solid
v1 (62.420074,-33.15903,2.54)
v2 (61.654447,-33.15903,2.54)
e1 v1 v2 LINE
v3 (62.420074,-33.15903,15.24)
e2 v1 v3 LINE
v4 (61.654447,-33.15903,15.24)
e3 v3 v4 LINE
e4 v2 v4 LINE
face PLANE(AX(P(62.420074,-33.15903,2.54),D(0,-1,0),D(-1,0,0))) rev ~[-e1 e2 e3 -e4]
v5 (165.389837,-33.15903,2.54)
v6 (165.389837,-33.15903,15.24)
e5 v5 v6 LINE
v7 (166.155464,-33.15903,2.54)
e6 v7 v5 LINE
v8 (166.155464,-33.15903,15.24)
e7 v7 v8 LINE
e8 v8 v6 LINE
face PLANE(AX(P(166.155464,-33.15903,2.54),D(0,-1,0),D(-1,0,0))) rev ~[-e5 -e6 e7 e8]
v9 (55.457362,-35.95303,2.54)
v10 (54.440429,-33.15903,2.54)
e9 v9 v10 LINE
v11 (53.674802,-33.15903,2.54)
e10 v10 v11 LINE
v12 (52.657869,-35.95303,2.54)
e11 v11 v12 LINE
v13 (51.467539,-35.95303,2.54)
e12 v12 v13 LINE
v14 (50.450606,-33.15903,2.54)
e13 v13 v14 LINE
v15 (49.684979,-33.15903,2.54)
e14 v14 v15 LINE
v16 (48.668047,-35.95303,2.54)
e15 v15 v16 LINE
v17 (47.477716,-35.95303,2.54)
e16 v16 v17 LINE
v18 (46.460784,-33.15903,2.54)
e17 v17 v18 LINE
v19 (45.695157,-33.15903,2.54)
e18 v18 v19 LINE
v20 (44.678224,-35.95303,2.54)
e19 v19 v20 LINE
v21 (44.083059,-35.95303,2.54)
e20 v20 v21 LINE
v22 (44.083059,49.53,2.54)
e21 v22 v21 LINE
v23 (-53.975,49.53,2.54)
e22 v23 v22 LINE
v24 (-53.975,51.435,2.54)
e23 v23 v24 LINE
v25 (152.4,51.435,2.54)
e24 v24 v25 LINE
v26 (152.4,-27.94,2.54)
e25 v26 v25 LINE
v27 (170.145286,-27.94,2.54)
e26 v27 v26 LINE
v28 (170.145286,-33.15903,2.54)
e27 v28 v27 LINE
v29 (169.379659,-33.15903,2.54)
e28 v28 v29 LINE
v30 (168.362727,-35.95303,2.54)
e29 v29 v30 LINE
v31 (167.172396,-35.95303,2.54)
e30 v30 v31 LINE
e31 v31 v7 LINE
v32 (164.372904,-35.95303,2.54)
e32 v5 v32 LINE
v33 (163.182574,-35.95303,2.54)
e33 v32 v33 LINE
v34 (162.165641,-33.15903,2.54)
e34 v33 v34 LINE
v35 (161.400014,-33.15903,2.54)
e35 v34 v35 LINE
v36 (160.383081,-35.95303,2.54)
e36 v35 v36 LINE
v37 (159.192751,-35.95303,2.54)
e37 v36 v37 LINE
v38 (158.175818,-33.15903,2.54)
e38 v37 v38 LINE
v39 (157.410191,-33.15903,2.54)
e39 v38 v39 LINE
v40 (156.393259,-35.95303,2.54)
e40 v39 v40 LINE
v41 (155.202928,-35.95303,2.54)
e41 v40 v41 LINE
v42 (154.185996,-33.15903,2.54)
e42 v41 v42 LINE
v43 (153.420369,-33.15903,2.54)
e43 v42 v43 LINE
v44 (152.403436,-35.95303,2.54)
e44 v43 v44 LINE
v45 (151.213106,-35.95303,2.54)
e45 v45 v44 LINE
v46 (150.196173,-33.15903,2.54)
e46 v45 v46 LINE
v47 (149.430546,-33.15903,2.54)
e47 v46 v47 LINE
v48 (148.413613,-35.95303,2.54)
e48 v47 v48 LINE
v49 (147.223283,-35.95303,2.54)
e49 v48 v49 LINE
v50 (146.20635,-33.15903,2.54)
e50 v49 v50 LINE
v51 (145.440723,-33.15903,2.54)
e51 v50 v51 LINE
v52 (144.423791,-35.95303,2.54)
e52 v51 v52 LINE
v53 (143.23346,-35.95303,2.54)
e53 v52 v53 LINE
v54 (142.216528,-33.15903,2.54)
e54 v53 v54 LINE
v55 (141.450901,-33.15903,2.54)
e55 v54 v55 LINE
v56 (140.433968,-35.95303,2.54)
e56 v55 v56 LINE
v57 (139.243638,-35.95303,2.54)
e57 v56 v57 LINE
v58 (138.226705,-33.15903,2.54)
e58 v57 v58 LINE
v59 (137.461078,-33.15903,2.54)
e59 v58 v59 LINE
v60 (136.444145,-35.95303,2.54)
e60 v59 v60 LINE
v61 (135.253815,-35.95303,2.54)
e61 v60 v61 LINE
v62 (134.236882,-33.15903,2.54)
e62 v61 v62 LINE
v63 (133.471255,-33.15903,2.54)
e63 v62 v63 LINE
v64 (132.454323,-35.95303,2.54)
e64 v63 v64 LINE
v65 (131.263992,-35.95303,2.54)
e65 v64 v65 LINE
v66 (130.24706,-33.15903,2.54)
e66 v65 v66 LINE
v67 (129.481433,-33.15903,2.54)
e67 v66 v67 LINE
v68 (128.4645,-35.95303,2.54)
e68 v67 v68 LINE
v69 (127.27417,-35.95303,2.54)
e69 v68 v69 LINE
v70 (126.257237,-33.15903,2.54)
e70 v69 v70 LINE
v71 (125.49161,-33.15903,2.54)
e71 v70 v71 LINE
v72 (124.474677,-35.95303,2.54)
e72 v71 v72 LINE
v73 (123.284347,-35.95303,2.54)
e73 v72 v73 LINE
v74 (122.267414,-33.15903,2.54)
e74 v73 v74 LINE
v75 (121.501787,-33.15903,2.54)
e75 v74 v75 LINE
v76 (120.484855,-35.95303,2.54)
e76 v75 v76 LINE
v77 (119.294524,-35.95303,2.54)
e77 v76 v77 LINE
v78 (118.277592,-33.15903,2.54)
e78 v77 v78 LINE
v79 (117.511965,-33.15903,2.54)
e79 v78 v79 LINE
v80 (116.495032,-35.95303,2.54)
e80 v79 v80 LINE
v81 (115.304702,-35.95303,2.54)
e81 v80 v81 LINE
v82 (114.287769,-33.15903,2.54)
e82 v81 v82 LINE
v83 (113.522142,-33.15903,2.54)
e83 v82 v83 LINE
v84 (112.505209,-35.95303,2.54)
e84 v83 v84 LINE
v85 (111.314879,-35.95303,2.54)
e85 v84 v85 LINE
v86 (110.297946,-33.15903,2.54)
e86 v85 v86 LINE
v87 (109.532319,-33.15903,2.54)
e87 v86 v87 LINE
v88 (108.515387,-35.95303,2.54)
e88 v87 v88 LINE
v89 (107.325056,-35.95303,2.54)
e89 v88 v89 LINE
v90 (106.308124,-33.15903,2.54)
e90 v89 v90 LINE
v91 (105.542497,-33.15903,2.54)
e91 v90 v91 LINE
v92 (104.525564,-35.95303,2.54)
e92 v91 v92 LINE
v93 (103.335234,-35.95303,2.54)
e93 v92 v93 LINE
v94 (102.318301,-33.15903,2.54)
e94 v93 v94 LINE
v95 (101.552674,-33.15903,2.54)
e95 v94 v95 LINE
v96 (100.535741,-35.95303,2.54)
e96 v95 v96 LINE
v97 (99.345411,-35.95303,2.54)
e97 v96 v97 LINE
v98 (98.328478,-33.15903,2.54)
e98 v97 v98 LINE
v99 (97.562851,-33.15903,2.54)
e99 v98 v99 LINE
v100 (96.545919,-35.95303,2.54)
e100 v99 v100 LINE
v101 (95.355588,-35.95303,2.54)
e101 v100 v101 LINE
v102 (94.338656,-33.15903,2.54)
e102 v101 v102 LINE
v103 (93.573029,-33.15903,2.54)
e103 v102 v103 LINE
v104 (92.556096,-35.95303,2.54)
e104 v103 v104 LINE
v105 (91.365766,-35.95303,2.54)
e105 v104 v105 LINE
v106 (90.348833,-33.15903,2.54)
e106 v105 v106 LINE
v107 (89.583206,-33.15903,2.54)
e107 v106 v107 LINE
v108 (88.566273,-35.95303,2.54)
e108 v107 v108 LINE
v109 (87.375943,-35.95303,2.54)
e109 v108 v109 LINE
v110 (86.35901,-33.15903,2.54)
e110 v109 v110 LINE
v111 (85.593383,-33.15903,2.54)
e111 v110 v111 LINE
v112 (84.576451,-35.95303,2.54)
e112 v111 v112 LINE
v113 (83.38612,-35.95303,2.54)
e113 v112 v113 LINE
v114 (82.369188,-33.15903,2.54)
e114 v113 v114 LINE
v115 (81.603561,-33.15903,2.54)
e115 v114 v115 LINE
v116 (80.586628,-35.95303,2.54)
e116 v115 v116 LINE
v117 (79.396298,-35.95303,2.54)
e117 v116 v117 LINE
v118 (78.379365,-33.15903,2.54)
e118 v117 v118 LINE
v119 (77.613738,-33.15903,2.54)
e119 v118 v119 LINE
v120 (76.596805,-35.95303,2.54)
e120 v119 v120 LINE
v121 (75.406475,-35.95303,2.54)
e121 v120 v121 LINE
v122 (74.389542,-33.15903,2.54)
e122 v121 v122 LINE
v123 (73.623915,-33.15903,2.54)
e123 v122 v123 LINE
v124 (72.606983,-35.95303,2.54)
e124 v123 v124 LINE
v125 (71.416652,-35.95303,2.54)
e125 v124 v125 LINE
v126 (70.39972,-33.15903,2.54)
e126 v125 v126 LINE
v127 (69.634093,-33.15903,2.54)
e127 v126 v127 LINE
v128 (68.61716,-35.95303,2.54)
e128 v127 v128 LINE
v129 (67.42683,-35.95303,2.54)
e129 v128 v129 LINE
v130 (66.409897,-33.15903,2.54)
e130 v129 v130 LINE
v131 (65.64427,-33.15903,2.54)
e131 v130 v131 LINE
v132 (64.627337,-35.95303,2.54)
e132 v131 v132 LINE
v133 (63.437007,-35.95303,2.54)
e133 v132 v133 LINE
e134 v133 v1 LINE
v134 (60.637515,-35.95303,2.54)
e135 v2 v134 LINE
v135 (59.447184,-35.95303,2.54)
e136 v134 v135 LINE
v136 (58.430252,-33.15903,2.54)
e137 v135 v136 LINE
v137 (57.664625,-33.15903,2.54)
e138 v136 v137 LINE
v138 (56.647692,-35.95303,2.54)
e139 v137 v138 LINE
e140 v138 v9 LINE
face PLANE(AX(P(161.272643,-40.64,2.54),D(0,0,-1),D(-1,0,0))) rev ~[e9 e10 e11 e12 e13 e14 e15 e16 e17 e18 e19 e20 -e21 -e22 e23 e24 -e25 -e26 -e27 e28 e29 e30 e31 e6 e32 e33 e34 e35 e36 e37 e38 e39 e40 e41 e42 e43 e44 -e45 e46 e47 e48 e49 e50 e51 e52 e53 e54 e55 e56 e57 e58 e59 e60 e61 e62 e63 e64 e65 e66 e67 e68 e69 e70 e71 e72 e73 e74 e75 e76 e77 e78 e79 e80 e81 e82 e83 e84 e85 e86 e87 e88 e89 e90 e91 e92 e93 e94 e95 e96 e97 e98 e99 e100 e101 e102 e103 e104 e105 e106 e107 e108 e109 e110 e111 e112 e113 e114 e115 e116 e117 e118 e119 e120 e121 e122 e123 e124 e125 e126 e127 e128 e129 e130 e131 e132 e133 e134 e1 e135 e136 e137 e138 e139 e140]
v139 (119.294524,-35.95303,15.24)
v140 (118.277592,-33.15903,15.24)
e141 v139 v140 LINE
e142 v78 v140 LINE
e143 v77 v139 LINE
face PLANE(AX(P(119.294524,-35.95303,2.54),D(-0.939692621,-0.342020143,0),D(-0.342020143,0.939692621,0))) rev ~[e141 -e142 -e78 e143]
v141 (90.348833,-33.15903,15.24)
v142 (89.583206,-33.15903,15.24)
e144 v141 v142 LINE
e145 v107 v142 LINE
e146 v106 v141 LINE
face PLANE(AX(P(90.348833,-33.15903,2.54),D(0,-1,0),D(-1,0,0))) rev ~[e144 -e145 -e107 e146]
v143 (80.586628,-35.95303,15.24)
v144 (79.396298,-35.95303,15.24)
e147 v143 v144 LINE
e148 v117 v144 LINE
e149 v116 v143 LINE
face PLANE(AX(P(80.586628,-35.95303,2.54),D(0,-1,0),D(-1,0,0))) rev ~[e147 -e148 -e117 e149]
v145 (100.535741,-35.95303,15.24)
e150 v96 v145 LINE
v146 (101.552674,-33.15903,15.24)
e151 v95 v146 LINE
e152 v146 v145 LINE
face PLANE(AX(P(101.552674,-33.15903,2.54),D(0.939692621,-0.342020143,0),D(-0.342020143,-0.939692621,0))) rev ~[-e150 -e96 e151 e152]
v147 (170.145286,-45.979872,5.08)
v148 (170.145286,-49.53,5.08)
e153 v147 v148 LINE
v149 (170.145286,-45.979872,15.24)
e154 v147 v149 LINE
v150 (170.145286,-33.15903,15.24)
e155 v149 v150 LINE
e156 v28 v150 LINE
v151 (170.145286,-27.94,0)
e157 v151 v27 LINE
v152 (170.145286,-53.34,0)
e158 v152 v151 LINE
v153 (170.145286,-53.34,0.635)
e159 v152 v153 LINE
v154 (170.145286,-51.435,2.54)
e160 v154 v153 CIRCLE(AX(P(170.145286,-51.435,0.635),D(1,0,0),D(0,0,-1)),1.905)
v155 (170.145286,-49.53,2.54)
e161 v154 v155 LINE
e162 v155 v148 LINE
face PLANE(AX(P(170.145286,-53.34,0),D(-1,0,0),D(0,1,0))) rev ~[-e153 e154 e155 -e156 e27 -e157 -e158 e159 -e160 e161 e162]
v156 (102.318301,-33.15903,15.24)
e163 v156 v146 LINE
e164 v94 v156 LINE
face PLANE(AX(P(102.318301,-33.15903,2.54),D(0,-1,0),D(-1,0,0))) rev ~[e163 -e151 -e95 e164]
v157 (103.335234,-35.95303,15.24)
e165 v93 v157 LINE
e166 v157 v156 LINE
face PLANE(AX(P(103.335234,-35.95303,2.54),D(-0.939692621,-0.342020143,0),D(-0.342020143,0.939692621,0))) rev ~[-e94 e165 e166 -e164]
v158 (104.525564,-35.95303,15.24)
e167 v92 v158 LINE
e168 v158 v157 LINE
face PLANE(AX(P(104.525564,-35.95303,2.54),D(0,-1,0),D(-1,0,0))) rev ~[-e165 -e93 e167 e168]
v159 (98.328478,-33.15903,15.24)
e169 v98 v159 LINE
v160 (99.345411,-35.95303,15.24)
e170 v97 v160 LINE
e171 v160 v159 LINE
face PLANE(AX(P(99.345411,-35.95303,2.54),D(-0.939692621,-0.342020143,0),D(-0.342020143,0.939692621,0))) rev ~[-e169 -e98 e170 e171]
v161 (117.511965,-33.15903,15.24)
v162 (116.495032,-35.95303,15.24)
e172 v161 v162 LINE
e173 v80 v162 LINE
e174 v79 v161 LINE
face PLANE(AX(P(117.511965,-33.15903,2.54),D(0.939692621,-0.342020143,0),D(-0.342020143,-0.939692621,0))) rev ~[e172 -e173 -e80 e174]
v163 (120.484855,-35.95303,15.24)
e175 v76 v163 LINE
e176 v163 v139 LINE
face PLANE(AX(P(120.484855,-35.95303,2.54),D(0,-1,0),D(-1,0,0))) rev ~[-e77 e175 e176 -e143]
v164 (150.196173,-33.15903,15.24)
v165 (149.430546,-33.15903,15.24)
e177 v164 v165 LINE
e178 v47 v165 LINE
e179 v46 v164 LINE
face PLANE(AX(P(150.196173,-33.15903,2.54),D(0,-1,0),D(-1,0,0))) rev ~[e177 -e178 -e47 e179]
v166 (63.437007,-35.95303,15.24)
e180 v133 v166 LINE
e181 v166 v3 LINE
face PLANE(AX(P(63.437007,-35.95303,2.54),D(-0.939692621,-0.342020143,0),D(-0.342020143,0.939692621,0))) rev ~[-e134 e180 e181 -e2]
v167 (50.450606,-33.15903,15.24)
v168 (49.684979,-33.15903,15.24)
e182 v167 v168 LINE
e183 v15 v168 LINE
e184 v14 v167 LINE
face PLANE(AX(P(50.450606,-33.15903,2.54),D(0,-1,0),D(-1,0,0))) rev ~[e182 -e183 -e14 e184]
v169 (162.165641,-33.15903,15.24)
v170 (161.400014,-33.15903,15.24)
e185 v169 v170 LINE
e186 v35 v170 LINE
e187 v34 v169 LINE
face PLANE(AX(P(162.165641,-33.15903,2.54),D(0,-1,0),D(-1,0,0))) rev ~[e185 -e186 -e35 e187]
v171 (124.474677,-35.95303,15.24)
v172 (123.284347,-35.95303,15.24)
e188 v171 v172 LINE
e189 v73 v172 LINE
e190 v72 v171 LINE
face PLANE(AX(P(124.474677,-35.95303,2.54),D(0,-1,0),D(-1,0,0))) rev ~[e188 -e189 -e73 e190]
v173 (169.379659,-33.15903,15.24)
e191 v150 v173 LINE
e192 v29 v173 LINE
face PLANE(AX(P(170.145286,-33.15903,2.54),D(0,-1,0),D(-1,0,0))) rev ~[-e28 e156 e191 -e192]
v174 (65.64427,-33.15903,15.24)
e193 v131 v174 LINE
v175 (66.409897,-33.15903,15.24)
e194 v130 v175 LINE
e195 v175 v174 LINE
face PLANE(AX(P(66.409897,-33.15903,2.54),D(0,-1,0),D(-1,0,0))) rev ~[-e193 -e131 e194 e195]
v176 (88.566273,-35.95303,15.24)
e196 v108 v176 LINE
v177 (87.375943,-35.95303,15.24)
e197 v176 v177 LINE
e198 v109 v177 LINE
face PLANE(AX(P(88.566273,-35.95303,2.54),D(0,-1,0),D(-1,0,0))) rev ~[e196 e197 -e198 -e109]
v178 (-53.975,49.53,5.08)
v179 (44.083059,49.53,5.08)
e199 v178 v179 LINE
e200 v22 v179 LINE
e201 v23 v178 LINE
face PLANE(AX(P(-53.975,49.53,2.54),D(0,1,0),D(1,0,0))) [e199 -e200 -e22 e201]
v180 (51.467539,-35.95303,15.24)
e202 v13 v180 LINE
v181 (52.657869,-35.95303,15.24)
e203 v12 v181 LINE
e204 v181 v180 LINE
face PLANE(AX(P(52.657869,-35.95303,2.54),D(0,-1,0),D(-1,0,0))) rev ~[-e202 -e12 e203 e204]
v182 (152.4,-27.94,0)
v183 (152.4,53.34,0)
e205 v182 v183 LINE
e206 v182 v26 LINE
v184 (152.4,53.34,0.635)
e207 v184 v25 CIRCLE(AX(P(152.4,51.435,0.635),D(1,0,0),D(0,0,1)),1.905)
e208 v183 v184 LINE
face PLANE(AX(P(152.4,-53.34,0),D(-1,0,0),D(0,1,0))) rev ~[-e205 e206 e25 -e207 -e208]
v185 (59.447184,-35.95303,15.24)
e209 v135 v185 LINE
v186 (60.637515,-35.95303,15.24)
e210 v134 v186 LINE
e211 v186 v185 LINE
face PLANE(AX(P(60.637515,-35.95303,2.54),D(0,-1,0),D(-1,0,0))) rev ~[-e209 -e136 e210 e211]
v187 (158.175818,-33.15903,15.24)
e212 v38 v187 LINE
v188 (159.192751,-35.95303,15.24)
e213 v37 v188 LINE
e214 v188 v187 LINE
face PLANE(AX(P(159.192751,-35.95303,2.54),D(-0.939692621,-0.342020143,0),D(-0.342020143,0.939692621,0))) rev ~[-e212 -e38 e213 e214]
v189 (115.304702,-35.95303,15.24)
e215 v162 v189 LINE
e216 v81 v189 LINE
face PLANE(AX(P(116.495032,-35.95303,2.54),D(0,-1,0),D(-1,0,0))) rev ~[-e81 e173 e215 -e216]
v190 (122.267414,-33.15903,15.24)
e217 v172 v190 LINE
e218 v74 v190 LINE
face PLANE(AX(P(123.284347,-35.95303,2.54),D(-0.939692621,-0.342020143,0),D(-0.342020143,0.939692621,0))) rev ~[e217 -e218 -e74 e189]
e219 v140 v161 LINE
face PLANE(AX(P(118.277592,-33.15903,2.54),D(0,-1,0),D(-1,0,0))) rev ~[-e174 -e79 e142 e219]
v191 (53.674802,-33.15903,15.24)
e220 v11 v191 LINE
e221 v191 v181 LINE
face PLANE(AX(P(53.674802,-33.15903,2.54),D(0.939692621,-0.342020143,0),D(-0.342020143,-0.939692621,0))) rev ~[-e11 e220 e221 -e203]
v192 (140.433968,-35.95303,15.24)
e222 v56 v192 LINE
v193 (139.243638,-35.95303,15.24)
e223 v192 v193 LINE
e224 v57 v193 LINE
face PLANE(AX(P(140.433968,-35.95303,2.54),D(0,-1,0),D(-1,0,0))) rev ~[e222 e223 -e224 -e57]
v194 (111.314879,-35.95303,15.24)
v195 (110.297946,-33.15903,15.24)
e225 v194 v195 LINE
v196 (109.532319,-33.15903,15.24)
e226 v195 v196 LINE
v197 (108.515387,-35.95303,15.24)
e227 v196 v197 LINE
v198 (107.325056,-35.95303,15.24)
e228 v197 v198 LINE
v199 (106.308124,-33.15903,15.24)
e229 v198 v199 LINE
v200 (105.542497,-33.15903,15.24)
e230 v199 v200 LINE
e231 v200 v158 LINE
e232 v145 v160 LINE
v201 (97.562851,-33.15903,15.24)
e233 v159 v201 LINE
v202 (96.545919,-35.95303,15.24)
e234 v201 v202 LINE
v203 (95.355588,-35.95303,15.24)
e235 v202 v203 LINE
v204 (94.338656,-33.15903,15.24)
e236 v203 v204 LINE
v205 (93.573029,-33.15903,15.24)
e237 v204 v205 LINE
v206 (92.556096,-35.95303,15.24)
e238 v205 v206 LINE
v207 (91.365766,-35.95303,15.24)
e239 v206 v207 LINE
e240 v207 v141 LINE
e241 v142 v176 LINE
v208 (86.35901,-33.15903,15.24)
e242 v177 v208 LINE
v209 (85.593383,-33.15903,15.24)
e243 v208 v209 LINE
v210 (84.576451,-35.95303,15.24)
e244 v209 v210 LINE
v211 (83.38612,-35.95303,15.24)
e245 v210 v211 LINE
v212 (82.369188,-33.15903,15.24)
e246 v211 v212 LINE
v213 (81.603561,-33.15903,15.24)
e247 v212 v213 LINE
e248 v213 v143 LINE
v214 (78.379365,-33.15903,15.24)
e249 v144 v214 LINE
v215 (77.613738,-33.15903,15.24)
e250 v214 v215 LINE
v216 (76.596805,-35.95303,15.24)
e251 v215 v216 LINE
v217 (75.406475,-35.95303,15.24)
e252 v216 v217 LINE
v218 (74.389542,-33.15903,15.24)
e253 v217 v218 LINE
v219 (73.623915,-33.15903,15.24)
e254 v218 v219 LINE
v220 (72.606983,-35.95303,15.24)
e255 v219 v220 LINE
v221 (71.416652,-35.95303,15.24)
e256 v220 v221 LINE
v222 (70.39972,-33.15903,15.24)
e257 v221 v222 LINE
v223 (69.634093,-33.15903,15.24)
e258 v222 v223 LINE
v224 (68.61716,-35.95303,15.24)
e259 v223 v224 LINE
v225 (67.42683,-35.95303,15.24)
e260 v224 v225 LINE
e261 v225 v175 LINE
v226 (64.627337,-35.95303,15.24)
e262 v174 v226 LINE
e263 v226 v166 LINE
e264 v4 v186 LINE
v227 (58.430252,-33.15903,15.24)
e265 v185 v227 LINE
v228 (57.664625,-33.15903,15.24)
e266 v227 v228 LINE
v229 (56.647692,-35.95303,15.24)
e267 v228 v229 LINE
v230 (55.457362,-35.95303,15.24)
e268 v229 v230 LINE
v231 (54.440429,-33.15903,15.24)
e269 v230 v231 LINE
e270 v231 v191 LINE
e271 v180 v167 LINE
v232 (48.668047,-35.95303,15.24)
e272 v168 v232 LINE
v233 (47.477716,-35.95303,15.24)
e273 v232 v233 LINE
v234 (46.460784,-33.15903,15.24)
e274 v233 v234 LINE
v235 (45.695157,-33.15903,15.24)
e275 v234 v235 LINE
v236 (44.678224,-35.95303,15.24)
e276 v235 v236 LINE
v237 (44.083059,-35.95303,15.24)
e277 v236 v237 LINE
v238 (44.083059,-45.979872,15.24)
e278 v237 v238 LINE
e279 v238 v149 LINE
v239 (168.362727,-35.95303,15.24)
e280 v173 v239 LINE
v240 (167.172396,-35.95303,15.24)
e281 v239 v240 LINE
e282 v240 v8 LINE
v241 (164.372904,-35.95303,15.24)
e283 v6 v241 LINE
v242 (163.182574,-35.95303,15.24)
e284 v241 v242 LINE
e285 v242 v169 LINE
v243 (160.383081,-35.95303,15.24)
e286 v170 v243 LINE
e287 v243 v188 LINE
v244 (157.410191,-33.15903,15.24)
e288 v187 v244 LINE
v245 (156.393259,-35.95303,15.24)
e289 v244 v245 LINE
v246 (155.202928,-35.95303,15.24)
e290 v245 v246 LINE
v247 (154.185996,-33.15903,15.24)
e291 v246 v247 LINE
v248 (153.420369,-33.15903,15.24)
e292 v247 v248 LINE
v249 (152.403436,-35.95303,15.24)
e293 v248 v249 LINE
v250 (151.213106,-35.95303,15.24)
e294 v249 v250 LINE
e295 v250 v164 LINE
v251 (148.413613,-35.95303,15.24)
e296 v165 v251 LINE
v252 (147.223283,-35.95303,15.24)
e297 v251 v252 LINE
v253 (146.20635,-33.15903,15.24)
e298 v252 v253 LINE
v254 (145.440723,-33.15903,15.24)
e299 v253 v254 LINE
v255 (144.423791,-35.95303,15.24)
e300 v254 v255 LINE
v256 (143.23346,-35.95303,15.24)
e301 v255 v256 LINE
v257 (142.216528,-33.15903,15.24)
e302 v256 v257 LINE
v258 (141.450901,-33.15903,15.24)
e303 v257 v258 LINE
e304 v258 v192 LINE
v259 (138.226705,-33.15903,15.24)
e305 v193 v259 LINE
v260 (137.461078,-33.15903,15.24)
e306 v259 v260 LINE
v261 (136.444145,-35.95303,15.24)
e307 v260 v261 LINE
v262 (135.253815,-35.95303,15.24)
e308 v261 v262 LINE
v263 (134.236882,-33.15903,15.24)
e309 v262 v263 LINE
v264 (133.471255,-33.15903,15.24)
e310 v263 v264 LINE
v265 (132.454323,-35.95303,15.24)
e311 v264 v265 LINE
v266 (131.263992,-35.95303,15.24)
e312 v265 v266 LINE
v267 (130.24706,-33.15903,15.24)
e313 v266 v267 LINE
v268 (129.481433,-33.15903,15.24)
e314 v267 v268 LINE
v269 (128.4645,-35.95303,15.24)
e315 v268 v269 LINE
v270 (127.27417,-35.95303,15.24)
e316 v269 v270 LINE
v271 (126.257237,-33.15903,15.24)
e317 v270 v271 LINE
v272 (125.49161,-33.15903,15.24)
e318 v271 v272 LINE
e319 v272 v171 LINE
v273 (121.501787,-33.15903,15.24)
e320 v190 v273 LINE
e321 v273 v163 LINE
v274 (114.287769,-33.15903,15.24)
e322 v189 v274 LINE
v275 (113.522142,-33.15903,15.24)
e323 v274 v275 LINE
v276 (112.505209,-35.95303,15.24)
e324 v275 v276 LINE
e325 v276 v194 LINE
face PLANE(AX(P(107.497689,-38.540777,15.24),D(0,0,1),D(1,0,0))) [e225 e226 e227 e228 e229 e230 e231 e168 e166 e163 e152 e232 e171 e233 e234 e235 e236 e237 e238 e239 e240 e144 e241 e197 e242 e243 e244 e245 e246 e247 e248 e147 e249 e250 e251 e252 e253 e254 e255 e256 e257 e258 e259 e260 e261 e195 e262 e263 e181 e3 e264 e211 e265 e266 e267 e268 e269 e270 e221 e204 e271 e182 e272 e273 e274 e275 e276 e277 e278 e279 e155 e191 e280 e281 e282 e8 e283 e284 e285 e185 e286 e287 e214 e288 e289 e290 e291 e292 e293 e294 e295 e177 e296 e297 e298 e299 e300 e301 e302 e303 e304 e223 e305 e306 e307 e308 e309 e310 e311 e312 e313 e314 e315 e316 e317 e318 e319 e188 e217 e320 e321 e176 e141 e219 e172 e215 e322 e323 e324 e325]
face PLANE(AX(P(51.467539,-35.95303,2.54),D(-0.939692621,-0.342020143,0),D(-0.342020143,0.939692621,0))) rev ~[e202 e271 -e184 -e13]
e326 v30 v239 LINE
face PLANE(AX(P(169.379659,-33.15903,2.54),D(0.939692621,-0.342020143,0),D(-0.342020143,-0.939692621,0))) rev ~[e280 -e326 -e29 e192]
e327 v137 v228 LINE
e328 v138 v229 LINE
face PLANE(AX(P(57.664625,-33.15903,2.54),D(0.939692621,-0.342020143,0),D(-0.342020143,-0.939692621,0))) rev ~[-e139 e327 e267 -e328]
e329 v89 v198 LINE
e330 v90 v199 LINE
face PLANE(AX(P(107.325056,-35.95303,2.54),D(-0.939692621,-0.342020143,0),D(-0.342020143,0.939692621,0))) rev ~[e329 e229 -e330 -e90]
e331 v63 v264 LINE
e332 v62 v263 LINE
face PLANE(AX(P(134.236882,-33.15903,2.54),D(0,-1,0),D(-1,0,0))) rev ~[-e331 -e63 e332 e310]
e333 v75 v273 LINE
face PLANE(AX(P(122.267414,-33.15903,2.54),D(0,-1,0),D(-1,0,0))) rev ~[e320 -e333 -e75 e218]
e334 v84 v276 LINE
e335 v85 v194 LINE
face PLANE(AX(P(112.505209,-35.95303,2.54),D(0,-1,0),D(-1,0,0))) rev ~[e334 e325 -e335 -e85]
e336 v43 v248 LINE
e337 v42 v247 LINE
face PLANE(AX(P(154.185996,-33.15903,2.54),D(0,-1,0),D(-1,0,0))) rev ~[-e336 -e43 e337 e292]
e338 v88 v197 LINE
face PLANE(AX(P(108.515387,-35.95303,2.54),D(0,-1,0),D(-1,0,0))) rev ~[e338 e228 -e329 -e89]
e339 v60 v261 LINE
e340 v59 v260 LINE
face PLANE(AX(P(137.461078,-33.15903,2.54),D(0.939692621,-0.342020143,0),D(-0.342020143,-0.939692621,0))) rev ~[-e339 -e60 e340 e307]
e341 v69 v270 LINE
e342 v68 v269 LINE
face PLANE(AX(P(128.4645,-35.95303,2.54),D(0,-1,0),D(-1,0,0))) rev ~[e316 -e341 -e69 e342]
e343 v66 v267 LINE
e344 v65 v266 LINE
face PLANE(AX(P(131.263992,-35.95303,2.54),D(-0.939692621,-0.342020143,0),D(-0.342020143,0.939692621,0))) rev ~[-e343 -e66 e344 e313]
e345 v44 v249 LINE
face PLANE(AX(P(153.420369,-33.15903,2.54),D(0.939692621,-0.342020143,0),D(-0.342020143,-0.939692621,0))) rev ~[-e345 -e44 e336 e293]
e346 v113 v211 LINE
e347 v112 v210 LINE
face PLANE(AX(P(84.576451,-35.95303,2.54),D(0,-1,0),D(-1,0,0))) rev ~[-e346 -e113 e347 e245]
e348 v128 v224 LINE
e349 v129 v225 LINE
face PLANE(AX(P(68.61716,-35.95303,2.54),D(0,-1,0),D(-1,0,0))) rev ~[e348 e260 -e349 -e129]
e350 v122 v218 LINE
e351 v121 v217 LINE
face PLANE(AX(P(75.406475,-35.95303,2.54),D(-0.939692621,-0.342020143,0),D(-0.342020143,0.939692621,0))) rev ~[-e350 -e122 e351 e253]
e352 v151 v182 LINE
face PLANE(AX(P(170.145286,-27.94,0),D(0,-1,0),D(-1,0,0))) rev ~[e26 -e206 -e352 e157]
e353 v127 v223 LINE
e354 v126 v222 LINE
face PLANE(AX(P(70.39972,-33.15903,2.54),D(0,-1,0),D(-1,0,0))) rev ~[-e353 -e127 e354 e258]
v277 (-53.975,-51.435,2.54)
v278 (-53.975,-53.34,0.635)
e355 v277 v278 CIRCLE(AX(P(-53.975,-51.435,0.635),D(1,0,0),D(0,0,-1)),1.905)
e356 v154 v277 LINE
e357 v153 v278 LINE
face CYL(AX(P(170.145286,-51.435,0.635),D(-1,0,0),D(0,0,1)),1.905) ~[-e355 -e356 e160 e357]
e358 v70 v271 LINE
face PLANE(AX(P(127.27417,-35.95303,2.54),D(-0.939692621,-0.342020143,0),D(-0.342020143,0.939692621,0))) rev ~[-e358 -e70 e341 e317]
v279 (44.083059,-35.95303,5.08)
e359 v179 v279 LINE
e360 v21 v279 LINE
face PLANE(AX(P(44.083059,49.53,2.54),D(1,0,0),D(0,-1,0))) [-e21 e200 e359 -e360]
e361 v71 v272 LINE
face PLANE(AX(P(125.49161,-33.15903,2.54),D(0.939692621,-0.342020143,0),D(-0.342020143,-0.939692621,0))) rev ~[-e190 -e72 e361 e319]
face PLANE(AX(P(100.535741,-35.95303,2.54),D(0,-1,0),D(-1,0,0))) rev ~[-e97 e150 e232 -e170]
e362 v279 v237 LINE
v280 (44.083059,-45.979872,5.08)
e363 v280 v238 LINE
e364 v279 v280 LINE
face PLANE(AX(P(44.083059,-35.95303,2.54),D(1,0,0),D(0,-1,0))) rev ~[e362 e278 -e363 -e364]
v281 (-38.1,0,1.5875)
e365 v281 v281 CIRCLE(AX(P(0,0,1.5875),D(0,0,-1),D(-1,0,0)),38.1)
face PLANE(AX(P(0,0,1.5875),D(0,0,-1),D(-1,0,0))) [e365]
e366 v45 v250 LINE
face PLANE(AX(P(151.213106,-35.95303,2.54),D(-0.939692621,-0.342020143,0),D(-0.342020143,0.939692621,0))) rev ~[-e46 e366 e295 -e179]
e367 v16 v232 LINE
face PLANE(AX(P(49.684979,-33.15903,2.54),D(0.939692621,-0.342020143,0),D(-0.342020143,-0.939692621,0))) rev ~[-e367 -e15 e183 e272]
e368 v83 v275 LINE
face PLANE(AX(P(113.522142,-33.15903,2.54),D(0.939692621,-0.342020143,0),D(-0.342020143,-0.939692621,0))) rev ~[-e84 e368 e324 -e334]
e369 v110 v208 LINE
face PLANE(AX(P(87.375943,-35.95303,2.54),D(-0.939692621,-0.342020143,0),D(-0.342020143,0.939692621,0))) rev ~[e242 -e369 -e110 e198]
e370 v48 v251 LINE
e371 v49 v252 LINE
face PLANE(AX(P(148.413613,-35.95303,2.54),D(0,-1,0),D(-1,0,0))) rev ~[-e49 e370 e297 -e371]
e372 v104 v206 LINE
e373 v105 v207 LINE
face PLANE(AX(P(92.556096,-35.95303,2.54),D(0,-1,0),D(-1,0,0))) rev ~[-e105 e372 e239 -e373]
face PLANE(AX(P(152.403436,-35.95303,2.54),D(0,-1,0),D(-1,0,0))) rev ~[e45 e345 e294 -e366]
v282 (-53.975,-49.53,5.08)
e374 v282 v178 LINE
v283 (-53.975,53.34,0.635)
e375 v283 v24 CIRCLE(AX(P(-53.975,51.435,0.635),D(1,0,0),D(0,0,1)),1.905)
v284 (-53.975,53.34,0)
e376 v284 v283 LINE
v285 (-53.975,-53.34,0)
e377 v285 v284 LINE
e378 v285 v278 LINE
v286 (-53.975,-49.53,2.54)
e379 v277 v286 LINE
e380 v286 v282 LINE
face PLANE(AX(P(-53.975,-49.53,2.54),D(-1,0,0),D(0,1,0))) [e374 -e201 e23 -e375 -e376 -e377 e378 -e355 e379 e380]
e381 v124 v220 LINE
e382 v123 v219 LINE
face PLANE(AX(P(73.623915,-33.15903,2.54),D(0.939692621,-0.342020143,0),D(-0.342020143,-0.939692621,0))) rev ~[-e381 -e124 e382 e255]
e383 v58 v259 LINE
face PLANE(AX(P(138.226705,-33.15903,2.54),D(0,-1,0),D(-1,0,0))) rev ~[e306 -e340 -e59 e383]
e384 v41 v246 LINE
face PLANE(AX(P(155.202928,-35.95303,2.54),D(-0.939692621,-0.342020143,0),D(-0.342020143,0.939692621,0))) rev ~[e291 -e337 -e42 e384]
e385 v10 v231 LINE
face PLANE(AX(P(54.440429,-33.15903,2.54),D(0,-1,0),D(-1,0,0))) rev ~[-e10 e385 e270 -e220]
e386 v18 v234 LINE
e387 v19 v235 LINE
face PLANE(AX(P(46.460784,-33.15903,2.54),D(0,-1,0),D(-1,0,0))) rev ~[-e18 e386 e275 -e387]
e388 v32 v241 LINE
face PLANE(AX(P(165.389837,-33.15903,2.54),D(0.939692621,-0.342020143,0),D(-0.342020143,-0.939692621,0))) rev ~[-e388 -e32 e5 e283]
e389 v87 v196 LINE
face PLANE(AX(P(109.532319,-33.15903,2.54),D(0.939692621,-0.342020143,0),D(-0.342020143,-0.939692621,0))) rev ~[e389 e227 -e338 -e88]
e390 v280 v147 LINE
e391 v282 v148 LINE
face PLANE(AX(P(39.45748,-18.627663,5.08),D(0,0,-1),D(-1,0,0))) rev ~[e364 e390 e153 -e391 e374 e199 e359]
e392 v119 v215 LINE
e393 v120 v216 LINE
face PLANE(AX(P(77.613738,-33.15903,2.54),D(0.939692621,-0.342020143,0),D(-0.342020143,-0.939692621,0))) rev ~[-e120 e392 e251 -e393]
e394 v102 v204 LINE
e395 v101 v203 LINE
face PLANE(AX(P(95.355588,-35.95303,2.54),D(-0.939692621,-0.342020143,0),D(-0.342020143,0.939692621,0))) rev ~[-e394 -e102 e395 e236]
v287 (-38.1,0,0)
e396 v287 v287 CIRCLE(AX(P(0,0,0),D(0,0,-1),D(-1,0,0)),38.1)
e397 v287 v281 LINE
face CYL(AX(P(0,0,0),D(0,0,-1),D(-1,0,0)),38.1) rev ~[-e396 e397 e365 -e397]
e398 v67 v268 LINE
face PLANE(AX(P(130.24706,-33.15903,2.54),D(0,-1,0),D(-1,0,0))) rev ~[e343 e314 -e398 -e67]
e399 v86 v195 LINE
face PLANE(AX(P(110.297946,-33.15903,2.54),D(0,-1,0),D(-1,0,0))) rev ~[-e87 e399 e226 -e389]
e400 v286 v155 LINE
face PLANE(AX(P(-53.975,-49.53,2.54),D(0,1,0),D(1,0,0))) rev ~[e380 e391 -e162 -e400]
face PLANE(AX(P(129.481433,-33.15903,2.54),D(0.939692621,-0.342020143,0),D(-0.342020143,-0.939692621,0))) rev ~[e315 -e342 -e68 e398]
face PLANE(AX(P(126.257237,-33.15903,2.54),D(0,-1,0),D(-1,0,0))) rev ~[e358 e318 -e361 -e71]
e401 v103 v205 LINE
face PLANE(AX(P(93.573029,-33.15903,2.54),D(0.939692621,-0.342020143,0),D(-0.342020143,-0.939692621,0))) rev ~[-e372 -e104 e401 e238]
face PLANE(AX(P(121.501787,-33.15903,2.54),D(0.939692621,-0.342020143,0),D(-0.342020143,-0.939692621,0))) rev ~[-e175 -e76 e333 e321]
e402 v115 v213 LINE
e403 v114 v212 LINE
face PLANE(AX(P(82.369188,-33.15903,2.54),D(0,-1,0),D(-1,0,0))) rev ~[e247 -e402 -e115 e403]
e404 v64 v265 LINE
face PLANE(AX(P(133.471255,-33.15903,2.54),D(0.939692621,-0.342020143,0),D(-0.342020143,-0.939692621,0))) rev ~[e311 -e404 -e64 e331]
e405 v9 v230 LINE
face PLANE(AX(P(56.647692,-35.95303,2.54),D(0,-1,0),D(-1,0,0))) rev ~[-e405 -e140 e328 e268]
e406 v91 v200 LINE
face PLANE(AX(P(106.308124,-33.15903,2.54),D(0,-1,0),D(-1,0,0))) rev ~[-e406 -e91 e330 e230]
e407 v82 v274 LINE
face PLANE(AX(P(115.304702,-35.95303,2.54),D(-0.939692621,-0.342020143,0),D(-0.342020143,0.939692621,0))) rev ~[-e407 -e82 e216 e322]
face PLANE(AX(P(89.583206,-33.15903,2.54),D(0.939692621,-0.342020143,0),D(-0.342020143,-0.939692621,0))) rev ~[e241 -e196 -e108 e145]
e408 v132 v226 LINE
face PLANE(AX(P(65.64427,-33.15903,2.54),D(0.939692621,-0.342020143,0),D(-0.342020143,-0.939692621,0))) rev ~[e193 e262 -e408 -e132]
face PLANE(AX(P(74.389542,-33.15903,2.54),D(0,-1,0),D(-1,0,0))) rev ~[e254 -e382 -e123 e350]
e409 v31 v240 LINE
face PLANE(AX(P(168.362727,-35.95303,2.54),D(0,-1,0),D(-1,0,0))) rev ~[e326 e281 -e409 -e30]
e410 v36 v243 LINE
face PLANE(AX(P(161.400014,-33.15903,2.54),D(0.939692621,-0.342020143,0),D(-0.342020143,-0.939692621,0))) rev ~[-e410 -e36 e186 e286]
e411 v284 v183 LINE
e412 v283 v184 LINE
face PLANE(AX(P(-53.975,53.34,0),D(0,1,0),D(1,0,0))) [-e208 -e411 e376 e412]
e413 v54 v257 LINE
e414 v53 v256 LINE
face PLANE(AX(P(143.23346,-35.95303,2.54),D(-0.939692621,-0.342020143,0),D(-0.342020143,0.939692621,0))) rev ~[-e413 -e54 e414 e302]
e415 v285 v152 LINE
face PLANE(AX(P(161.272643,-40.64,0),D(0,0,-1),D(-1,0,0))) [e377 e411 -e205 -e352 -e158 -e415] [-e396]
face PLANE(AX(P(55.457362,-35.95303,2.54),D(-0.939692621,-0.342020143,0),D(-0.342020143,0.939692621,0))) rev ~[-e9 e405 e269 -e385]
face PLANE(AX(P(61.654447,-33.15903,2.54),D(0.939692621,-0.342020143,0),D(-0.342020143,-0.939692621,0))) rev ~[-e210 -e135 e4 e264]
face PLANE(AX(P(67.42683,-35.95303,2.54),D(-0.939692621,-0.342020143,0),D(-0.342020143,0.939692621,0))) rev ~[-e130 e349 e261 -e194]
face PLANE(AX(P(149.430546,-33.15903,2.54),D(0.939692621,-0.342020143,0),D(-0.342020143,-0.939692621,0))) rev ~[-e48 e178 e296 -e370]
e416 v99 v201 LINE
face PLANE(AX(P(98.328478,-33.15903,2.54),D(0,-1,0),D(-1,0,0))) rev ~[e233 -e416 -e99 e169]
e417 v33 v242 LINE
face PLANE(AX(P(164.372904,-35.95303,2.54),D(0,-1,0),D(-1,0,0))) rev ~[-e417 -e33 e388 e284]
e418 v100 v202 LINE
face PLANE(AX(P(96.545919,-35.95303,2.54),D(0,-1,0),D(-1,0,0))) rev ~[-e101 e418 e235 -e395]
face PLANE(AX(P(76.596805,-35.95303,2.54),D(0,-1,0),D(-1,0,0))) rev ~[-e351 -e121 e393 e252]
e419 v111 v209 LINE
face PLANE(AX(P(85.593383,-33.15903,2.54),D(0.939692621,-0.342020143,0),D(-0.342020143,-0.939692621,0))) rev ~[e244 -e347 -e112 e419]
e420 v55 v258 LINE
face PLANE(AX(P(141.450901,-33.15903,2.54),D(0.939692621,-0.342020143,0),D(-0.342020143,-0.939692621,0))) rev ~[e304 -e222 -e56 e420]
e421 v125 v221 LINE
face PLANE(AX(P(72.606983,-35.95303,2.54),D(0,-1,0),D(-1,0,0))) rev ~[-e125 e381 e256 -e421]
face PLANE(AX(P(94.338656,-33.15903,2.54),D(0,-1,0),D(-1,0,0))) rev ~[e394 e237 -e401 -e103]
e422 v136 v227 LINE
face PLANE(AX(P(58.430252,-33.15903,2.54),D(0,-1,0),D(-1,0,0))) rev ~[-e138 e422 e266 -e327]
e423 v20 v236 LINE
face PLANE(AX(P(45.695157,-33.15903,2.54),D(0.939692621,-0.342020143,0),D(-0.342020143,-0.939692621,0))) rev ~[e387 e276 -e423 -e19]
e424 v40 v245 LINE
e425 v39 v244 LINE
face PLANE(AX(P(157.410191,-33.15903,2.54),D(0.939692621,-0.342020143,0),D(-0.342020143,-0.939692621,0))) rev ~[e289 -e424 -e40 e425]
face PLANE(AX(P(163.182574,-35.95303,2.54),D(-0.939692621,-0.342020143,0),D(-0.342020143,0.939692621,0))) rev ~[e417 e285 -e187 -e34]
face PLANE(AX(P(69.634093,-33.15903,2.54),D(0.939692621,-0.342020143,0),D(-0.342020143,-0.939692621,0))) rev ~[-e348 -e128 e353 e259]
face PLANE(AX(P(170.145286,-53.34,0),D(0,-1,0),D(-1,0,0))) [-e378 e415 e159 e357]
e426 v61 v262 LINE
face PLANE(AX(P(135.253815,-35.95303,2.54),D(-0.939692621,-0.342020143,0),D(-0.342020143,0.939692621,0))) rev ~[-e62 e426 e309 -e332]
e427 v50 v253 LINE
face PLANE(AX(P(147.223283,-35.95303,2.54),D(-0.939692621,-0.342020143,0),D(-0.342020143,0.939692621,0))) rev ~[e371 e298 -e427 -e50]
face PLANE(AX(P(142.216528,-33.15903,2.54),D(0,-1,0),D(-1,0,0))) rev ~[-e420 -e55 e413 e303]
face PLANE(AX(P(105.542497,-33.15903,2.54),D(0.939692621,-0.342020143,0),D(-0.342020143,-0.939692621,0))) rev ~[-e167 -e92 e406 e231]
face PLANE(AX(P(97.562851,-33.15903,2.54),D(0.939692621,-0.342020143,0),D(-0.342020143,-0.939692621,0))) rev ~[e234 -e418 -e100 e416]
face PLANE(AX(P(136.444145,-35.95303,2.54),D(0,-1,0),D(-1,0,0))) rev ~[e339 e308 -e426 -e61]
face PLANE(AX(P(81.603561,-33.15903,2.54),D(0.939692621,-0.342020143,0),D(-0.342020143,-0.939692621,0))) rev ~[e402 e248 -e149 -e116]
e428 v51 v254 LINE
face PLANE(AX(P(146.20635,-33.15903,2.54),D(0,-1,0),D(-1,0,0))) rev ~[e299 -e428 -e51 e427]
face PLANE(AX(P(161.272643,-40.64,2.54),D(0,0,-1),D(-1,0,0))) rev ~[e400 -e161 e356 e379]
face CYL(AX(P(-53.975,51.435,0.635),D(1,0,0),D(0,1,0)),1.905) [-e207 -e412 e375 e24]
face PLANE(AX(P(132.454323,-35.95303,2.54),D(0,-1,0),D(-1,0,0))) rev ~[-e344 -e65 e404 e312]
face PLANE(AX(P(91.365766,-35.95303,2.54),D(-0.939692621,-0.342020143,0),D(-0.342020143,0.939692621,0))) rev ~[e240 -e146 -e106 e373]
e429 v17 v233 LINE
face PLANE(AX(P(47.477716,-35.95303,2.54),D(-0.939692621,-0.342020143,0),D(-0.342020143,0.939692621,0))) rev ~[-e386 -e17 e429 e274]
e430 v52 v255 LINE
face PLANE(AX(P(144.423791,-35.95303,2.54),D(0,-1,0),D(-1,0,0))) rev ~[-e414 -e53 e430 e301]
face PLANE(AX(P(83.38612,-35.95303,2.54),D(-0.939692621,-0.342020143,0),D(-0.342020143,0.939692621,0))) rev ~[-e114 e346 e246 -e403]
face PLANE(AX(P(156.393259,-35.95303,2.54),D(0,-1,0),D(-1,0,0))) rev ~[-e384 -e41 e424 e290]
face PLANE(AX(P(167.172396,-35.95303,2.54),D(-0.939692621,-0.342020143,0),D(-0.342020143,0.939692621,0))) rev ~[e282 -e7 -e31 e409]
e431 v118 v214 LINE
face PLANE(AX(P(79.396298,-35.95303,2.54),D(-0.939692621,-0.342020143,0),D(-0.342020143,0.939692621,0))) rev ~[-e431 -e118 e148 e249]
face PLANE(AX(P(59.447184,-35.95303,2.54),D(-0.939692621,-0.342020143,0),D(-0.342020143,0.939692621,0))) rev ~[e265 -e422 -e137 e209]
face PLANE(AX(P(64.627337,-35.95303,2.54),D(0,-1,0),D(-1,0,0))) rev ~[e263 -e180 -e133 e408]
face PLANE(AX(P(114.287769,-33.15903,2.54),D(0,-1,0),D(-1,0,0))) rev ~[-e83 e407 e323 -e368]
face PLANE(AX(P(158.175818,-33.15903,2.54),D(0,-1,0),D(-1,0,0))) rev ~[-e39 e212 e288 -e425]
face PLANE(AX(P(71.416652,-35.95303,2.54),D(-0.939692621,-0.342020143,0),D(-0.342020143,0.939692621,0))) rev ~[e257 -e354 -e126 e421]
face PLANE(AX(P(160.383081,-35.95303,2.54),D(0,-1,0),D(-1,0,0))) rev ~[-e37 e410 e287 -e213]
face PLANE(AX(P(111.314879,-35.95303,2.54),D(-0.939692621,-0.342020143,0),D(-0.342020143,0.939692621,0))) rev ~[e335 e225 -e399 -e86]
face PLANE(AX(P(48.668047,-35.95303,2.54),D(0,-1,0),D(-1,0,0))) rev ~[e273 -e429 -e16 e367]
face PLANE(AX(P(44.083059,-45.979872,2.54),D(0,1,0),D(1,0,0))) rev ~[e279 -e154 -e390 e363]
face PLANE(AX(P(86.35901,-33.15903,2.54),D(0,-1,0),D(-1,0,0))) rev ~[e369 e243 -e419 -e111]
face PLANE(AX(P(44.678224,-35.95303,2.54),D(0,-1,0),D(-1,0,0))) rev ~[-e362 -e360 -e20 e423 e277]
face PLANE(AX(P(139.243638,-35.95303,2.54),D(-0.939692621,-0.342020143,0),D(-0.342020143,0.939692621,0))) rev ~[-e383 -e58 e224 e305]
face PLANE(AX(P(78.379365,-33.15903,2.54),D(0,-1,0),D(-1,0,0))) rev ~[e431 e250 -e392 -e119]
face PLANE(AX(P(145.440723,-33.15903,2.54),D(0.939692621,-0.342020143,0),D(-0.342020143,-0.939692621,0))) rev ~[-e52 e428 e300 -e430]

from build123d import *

# Parameters (mm, degrees)
SKETCH1_W           = 206.375
SKETCH1_H           = 106.68
BOSS_EXTRUDE1_DEPTH = 2.54
BOSS_EXTRUDE2_DEPTH = 12.7
SKETCH3_W           = 17.745286293
SKETCH3_H           = 25.4
BOSS_EXTRUDE3_DEPTH = 2.54
FILLET1_R           = 1.905
BOSS_EXTRUDE4_DEPTH = 2.54
SKETCH6_R           = 38.1
CUT_EXTRUDE1_DEPTH  = 1.5875


with BuildPart() as part:
    # Sketch1 → Boss-Extrude1 (new body)
    with BuildSketch(Plane.XY):
        with Locations((49.2125, 0)):
            Rectangle(SKETCH1_W, SKETCH1_H)
    extrude(amount=BOSS_EXTRUDE1_DEPTH)

    # Sketch2 → Boss-Extrude2 (add)
    with BuildSketch(Plane.XY.offset(2.54)):
        Polygon((170.145286293, -33.159030477), (169.379659355, -33.159030477), (168.362726521, -35.953030477), (167.172396462, -35.953030477), (166.155463627, -33.159030477), (165.38983669, -33.159030477), (164.372903855, -35.953030477), (163.182573796, -35.953030477), (162.165640962, -33.159030477), (161.400014024, -33.159030477), (160.38308119, -35.953030477), (159.192751131, -35.953030477), (158.175818296, -33.159030477), (157.410191359, -33.159030477), (156.393258524, -35.953030477), (155.202928465, -35.953030477), (154.185995631, -33.159030477), (153.420368693, -33.159030477), (152.403435859, -35.953030477), (151.2131058, -35.953030477), (150.196172965, -33.159030477), (149.430546028, -33.159030477), (148.413613193, -35.953030477), (147.223283134, -35.953030477), (146.2063503, -33.159030477), (145.440723362, -33.159030477), (144.423790528, -35.953030477), (143.233460469, -35.953030477), (142.216527634, -33.159030477), (141.450900697, -33.159030477), (140.433967862, -35.953030477), (139.243637803, -35.953030477), (138.226704969, -33.159030477), (137.461078031, -33.159030477), (136.444145197, -35.953030477), (135.253815138, -35.953030477), (134.236882303, -33.159030477), (133.471255366, -33.159030477), (132.454322531, -35.953030477), (131.263992472, -35.953030477), (130.247059638, -33.159030477), (129.4814327, -33.159030477), (128.464499866, -35.953030477), (127.274169807, -35.953030477), (126.257236972, -33.159030477), (125.491610035, -33.159030477), (124.4746772, -35.953030477), (123.284347141, -35.953030477), (122.267414307, -33.159030477), (121.501787369, -33.159030477), (120.484854535, -35.953030477), (119.294524476, -35.953030477), (118.277591641, -33.159030477), (117.511964704, -33.159030477), (116.495031869, -35.953030477), (115.30470181, -35.953030477), (114.287768976, -33.159030477), (113.522142038, -33.159030477), (112.505209204, -35.953030477), (111.314879145, -35.953030477), (110.29794631, -33.159030477), (109.532319373, -33.159030477), (108.515386538, -35.953030477), (107.325056479, -35.953030477), (106.308123645, -33.159030477), (105.542496707, -33.159030477), (104.525563873, -35.953030477), (103.335233814, -35.953030477), (102.318300979, -33.159030477), (101.552674042, -33.159030477), (100.535741207, -35.953030477), (99.345411148, -35.953030477), (98.328478314, -33.159030477), (97.562851376, -33.159030477), (96.545918542, -35.953030477), (95.355588483, -35.953030477), (94.338655648, -33.159030477), (93.573028711, -33.159030477), (92.556095876, -35.953030477), (91.365765817, -35.953030477), (90.348832983, -33.159030477), (89.583206045, -33.159030477), (88.566273211, -35.953030477), (87.375943152, -35.953030477), (86.359010317, -33.159030477), (85.59338338, -33.159030477), (84.576450545, -35.953030477), (83.386120486, -35.953030477), (82.369187652, -33.159030477), (81.603560714, -33.159030477), (80.58662788, -35.953030477), (79.396297821, -35.953030477), (78.379364986, -33.159030477), (77.613738049, -33.159030477), (76.596805214, -35.953030477), (75.406475155, -35.953030477), (74.389542321, -33.159030477), (73.623915383, -33.159030477), (72.606982549, -35.953030477), (71.41665249, -35.953030477), (70.399719655, -33.159030477), (69.634092718, -33.159030477), (68.617159883, -35.953030477), (67.426829824, -35.953030477), (66.40989699, -33.159030477), (65.644270052, -33.159030477), (64.627337218, -35.953030477), (63.437007159, -35.953030477), (62.420074324, -33.159030477), (61.654447387, -33.159030477), (60.637514552, -35.953030477), (59.447184493, -35.953030477), (58.430251659, -33.159030477), (57.664624721, -33.159030477), (56.647691887, -35.953030477), (55.457361828, -35.953030477), (54.440428993, -33.159030477), (53.674802056, -33.159030477), (52.657869221, -35.953030477), (51.467539162, -35.953030477), (50.450606328, -33.159030477), (49.68497939, -33.159030477), (48.668046556, -35.953030477), (47.477716497, -35.953030477), (46.460783662, -33.159030477), (45.695156725, -33.159030477), (44.67822389, -35.953030477), (44.083058861, -35.953030477), (44.083058861, -45.979871745), (170.145286293, -45.979871745), align=None)
    extrude(amount=BOSS_EXTRUDE2_DEPTH)

    # Sketch3 → Boss-Extrude3 (add)
    with BuildSketch(Plane(origin=(0, 0, 0), x_dir=(-1, 0, 0), z_dir=(0, 0, -1))):
        with Locations((-161.272643147, -40.64)):
            Rectangle(SKETCH3_W, SKETCH3_H)
    extrude(amount=-BOSS_EXTRUDE3_DEPTH)

    # Fillet1
    fillet1_edges = [part.edges().sort_by_distance(p)[0] for p in [
        (58.085143146, -53.34, 2.54),
        (49.2125, 53.34, 2.54),
    ]]
    fillet(fillet1_edges, radius=FILLET1_R)

    # Sketch5 → Boss-Extrude4 (add)
    with BuildSketch(Plane.XY.offset(2.54)):
        Polygon((-53.975, 49.53), (44.083058861, 49.53), (44.083058861, -45.979871745), (170.145286293, -45.979871745), (170.145286293, -49.53), (44.083058861, -49.53), (-53.975, -49.53), align=None)
    extrude(amount=BOSS_EXTRUDE4_DEPTH)

    # Sketch6 → Cut-Extrude1 (cut)
    with BuildSketch(Plane(origin=(0, 0, 0), x_dir=(-1, 0, 0), z_dir=(0, 0, -1))):
        Circle(SKETCH6_R)
    extrude(amount=-CUT_EXTRUDE1_DEPTH, mode=Mode.SUBTRACT)


solid = part.part
